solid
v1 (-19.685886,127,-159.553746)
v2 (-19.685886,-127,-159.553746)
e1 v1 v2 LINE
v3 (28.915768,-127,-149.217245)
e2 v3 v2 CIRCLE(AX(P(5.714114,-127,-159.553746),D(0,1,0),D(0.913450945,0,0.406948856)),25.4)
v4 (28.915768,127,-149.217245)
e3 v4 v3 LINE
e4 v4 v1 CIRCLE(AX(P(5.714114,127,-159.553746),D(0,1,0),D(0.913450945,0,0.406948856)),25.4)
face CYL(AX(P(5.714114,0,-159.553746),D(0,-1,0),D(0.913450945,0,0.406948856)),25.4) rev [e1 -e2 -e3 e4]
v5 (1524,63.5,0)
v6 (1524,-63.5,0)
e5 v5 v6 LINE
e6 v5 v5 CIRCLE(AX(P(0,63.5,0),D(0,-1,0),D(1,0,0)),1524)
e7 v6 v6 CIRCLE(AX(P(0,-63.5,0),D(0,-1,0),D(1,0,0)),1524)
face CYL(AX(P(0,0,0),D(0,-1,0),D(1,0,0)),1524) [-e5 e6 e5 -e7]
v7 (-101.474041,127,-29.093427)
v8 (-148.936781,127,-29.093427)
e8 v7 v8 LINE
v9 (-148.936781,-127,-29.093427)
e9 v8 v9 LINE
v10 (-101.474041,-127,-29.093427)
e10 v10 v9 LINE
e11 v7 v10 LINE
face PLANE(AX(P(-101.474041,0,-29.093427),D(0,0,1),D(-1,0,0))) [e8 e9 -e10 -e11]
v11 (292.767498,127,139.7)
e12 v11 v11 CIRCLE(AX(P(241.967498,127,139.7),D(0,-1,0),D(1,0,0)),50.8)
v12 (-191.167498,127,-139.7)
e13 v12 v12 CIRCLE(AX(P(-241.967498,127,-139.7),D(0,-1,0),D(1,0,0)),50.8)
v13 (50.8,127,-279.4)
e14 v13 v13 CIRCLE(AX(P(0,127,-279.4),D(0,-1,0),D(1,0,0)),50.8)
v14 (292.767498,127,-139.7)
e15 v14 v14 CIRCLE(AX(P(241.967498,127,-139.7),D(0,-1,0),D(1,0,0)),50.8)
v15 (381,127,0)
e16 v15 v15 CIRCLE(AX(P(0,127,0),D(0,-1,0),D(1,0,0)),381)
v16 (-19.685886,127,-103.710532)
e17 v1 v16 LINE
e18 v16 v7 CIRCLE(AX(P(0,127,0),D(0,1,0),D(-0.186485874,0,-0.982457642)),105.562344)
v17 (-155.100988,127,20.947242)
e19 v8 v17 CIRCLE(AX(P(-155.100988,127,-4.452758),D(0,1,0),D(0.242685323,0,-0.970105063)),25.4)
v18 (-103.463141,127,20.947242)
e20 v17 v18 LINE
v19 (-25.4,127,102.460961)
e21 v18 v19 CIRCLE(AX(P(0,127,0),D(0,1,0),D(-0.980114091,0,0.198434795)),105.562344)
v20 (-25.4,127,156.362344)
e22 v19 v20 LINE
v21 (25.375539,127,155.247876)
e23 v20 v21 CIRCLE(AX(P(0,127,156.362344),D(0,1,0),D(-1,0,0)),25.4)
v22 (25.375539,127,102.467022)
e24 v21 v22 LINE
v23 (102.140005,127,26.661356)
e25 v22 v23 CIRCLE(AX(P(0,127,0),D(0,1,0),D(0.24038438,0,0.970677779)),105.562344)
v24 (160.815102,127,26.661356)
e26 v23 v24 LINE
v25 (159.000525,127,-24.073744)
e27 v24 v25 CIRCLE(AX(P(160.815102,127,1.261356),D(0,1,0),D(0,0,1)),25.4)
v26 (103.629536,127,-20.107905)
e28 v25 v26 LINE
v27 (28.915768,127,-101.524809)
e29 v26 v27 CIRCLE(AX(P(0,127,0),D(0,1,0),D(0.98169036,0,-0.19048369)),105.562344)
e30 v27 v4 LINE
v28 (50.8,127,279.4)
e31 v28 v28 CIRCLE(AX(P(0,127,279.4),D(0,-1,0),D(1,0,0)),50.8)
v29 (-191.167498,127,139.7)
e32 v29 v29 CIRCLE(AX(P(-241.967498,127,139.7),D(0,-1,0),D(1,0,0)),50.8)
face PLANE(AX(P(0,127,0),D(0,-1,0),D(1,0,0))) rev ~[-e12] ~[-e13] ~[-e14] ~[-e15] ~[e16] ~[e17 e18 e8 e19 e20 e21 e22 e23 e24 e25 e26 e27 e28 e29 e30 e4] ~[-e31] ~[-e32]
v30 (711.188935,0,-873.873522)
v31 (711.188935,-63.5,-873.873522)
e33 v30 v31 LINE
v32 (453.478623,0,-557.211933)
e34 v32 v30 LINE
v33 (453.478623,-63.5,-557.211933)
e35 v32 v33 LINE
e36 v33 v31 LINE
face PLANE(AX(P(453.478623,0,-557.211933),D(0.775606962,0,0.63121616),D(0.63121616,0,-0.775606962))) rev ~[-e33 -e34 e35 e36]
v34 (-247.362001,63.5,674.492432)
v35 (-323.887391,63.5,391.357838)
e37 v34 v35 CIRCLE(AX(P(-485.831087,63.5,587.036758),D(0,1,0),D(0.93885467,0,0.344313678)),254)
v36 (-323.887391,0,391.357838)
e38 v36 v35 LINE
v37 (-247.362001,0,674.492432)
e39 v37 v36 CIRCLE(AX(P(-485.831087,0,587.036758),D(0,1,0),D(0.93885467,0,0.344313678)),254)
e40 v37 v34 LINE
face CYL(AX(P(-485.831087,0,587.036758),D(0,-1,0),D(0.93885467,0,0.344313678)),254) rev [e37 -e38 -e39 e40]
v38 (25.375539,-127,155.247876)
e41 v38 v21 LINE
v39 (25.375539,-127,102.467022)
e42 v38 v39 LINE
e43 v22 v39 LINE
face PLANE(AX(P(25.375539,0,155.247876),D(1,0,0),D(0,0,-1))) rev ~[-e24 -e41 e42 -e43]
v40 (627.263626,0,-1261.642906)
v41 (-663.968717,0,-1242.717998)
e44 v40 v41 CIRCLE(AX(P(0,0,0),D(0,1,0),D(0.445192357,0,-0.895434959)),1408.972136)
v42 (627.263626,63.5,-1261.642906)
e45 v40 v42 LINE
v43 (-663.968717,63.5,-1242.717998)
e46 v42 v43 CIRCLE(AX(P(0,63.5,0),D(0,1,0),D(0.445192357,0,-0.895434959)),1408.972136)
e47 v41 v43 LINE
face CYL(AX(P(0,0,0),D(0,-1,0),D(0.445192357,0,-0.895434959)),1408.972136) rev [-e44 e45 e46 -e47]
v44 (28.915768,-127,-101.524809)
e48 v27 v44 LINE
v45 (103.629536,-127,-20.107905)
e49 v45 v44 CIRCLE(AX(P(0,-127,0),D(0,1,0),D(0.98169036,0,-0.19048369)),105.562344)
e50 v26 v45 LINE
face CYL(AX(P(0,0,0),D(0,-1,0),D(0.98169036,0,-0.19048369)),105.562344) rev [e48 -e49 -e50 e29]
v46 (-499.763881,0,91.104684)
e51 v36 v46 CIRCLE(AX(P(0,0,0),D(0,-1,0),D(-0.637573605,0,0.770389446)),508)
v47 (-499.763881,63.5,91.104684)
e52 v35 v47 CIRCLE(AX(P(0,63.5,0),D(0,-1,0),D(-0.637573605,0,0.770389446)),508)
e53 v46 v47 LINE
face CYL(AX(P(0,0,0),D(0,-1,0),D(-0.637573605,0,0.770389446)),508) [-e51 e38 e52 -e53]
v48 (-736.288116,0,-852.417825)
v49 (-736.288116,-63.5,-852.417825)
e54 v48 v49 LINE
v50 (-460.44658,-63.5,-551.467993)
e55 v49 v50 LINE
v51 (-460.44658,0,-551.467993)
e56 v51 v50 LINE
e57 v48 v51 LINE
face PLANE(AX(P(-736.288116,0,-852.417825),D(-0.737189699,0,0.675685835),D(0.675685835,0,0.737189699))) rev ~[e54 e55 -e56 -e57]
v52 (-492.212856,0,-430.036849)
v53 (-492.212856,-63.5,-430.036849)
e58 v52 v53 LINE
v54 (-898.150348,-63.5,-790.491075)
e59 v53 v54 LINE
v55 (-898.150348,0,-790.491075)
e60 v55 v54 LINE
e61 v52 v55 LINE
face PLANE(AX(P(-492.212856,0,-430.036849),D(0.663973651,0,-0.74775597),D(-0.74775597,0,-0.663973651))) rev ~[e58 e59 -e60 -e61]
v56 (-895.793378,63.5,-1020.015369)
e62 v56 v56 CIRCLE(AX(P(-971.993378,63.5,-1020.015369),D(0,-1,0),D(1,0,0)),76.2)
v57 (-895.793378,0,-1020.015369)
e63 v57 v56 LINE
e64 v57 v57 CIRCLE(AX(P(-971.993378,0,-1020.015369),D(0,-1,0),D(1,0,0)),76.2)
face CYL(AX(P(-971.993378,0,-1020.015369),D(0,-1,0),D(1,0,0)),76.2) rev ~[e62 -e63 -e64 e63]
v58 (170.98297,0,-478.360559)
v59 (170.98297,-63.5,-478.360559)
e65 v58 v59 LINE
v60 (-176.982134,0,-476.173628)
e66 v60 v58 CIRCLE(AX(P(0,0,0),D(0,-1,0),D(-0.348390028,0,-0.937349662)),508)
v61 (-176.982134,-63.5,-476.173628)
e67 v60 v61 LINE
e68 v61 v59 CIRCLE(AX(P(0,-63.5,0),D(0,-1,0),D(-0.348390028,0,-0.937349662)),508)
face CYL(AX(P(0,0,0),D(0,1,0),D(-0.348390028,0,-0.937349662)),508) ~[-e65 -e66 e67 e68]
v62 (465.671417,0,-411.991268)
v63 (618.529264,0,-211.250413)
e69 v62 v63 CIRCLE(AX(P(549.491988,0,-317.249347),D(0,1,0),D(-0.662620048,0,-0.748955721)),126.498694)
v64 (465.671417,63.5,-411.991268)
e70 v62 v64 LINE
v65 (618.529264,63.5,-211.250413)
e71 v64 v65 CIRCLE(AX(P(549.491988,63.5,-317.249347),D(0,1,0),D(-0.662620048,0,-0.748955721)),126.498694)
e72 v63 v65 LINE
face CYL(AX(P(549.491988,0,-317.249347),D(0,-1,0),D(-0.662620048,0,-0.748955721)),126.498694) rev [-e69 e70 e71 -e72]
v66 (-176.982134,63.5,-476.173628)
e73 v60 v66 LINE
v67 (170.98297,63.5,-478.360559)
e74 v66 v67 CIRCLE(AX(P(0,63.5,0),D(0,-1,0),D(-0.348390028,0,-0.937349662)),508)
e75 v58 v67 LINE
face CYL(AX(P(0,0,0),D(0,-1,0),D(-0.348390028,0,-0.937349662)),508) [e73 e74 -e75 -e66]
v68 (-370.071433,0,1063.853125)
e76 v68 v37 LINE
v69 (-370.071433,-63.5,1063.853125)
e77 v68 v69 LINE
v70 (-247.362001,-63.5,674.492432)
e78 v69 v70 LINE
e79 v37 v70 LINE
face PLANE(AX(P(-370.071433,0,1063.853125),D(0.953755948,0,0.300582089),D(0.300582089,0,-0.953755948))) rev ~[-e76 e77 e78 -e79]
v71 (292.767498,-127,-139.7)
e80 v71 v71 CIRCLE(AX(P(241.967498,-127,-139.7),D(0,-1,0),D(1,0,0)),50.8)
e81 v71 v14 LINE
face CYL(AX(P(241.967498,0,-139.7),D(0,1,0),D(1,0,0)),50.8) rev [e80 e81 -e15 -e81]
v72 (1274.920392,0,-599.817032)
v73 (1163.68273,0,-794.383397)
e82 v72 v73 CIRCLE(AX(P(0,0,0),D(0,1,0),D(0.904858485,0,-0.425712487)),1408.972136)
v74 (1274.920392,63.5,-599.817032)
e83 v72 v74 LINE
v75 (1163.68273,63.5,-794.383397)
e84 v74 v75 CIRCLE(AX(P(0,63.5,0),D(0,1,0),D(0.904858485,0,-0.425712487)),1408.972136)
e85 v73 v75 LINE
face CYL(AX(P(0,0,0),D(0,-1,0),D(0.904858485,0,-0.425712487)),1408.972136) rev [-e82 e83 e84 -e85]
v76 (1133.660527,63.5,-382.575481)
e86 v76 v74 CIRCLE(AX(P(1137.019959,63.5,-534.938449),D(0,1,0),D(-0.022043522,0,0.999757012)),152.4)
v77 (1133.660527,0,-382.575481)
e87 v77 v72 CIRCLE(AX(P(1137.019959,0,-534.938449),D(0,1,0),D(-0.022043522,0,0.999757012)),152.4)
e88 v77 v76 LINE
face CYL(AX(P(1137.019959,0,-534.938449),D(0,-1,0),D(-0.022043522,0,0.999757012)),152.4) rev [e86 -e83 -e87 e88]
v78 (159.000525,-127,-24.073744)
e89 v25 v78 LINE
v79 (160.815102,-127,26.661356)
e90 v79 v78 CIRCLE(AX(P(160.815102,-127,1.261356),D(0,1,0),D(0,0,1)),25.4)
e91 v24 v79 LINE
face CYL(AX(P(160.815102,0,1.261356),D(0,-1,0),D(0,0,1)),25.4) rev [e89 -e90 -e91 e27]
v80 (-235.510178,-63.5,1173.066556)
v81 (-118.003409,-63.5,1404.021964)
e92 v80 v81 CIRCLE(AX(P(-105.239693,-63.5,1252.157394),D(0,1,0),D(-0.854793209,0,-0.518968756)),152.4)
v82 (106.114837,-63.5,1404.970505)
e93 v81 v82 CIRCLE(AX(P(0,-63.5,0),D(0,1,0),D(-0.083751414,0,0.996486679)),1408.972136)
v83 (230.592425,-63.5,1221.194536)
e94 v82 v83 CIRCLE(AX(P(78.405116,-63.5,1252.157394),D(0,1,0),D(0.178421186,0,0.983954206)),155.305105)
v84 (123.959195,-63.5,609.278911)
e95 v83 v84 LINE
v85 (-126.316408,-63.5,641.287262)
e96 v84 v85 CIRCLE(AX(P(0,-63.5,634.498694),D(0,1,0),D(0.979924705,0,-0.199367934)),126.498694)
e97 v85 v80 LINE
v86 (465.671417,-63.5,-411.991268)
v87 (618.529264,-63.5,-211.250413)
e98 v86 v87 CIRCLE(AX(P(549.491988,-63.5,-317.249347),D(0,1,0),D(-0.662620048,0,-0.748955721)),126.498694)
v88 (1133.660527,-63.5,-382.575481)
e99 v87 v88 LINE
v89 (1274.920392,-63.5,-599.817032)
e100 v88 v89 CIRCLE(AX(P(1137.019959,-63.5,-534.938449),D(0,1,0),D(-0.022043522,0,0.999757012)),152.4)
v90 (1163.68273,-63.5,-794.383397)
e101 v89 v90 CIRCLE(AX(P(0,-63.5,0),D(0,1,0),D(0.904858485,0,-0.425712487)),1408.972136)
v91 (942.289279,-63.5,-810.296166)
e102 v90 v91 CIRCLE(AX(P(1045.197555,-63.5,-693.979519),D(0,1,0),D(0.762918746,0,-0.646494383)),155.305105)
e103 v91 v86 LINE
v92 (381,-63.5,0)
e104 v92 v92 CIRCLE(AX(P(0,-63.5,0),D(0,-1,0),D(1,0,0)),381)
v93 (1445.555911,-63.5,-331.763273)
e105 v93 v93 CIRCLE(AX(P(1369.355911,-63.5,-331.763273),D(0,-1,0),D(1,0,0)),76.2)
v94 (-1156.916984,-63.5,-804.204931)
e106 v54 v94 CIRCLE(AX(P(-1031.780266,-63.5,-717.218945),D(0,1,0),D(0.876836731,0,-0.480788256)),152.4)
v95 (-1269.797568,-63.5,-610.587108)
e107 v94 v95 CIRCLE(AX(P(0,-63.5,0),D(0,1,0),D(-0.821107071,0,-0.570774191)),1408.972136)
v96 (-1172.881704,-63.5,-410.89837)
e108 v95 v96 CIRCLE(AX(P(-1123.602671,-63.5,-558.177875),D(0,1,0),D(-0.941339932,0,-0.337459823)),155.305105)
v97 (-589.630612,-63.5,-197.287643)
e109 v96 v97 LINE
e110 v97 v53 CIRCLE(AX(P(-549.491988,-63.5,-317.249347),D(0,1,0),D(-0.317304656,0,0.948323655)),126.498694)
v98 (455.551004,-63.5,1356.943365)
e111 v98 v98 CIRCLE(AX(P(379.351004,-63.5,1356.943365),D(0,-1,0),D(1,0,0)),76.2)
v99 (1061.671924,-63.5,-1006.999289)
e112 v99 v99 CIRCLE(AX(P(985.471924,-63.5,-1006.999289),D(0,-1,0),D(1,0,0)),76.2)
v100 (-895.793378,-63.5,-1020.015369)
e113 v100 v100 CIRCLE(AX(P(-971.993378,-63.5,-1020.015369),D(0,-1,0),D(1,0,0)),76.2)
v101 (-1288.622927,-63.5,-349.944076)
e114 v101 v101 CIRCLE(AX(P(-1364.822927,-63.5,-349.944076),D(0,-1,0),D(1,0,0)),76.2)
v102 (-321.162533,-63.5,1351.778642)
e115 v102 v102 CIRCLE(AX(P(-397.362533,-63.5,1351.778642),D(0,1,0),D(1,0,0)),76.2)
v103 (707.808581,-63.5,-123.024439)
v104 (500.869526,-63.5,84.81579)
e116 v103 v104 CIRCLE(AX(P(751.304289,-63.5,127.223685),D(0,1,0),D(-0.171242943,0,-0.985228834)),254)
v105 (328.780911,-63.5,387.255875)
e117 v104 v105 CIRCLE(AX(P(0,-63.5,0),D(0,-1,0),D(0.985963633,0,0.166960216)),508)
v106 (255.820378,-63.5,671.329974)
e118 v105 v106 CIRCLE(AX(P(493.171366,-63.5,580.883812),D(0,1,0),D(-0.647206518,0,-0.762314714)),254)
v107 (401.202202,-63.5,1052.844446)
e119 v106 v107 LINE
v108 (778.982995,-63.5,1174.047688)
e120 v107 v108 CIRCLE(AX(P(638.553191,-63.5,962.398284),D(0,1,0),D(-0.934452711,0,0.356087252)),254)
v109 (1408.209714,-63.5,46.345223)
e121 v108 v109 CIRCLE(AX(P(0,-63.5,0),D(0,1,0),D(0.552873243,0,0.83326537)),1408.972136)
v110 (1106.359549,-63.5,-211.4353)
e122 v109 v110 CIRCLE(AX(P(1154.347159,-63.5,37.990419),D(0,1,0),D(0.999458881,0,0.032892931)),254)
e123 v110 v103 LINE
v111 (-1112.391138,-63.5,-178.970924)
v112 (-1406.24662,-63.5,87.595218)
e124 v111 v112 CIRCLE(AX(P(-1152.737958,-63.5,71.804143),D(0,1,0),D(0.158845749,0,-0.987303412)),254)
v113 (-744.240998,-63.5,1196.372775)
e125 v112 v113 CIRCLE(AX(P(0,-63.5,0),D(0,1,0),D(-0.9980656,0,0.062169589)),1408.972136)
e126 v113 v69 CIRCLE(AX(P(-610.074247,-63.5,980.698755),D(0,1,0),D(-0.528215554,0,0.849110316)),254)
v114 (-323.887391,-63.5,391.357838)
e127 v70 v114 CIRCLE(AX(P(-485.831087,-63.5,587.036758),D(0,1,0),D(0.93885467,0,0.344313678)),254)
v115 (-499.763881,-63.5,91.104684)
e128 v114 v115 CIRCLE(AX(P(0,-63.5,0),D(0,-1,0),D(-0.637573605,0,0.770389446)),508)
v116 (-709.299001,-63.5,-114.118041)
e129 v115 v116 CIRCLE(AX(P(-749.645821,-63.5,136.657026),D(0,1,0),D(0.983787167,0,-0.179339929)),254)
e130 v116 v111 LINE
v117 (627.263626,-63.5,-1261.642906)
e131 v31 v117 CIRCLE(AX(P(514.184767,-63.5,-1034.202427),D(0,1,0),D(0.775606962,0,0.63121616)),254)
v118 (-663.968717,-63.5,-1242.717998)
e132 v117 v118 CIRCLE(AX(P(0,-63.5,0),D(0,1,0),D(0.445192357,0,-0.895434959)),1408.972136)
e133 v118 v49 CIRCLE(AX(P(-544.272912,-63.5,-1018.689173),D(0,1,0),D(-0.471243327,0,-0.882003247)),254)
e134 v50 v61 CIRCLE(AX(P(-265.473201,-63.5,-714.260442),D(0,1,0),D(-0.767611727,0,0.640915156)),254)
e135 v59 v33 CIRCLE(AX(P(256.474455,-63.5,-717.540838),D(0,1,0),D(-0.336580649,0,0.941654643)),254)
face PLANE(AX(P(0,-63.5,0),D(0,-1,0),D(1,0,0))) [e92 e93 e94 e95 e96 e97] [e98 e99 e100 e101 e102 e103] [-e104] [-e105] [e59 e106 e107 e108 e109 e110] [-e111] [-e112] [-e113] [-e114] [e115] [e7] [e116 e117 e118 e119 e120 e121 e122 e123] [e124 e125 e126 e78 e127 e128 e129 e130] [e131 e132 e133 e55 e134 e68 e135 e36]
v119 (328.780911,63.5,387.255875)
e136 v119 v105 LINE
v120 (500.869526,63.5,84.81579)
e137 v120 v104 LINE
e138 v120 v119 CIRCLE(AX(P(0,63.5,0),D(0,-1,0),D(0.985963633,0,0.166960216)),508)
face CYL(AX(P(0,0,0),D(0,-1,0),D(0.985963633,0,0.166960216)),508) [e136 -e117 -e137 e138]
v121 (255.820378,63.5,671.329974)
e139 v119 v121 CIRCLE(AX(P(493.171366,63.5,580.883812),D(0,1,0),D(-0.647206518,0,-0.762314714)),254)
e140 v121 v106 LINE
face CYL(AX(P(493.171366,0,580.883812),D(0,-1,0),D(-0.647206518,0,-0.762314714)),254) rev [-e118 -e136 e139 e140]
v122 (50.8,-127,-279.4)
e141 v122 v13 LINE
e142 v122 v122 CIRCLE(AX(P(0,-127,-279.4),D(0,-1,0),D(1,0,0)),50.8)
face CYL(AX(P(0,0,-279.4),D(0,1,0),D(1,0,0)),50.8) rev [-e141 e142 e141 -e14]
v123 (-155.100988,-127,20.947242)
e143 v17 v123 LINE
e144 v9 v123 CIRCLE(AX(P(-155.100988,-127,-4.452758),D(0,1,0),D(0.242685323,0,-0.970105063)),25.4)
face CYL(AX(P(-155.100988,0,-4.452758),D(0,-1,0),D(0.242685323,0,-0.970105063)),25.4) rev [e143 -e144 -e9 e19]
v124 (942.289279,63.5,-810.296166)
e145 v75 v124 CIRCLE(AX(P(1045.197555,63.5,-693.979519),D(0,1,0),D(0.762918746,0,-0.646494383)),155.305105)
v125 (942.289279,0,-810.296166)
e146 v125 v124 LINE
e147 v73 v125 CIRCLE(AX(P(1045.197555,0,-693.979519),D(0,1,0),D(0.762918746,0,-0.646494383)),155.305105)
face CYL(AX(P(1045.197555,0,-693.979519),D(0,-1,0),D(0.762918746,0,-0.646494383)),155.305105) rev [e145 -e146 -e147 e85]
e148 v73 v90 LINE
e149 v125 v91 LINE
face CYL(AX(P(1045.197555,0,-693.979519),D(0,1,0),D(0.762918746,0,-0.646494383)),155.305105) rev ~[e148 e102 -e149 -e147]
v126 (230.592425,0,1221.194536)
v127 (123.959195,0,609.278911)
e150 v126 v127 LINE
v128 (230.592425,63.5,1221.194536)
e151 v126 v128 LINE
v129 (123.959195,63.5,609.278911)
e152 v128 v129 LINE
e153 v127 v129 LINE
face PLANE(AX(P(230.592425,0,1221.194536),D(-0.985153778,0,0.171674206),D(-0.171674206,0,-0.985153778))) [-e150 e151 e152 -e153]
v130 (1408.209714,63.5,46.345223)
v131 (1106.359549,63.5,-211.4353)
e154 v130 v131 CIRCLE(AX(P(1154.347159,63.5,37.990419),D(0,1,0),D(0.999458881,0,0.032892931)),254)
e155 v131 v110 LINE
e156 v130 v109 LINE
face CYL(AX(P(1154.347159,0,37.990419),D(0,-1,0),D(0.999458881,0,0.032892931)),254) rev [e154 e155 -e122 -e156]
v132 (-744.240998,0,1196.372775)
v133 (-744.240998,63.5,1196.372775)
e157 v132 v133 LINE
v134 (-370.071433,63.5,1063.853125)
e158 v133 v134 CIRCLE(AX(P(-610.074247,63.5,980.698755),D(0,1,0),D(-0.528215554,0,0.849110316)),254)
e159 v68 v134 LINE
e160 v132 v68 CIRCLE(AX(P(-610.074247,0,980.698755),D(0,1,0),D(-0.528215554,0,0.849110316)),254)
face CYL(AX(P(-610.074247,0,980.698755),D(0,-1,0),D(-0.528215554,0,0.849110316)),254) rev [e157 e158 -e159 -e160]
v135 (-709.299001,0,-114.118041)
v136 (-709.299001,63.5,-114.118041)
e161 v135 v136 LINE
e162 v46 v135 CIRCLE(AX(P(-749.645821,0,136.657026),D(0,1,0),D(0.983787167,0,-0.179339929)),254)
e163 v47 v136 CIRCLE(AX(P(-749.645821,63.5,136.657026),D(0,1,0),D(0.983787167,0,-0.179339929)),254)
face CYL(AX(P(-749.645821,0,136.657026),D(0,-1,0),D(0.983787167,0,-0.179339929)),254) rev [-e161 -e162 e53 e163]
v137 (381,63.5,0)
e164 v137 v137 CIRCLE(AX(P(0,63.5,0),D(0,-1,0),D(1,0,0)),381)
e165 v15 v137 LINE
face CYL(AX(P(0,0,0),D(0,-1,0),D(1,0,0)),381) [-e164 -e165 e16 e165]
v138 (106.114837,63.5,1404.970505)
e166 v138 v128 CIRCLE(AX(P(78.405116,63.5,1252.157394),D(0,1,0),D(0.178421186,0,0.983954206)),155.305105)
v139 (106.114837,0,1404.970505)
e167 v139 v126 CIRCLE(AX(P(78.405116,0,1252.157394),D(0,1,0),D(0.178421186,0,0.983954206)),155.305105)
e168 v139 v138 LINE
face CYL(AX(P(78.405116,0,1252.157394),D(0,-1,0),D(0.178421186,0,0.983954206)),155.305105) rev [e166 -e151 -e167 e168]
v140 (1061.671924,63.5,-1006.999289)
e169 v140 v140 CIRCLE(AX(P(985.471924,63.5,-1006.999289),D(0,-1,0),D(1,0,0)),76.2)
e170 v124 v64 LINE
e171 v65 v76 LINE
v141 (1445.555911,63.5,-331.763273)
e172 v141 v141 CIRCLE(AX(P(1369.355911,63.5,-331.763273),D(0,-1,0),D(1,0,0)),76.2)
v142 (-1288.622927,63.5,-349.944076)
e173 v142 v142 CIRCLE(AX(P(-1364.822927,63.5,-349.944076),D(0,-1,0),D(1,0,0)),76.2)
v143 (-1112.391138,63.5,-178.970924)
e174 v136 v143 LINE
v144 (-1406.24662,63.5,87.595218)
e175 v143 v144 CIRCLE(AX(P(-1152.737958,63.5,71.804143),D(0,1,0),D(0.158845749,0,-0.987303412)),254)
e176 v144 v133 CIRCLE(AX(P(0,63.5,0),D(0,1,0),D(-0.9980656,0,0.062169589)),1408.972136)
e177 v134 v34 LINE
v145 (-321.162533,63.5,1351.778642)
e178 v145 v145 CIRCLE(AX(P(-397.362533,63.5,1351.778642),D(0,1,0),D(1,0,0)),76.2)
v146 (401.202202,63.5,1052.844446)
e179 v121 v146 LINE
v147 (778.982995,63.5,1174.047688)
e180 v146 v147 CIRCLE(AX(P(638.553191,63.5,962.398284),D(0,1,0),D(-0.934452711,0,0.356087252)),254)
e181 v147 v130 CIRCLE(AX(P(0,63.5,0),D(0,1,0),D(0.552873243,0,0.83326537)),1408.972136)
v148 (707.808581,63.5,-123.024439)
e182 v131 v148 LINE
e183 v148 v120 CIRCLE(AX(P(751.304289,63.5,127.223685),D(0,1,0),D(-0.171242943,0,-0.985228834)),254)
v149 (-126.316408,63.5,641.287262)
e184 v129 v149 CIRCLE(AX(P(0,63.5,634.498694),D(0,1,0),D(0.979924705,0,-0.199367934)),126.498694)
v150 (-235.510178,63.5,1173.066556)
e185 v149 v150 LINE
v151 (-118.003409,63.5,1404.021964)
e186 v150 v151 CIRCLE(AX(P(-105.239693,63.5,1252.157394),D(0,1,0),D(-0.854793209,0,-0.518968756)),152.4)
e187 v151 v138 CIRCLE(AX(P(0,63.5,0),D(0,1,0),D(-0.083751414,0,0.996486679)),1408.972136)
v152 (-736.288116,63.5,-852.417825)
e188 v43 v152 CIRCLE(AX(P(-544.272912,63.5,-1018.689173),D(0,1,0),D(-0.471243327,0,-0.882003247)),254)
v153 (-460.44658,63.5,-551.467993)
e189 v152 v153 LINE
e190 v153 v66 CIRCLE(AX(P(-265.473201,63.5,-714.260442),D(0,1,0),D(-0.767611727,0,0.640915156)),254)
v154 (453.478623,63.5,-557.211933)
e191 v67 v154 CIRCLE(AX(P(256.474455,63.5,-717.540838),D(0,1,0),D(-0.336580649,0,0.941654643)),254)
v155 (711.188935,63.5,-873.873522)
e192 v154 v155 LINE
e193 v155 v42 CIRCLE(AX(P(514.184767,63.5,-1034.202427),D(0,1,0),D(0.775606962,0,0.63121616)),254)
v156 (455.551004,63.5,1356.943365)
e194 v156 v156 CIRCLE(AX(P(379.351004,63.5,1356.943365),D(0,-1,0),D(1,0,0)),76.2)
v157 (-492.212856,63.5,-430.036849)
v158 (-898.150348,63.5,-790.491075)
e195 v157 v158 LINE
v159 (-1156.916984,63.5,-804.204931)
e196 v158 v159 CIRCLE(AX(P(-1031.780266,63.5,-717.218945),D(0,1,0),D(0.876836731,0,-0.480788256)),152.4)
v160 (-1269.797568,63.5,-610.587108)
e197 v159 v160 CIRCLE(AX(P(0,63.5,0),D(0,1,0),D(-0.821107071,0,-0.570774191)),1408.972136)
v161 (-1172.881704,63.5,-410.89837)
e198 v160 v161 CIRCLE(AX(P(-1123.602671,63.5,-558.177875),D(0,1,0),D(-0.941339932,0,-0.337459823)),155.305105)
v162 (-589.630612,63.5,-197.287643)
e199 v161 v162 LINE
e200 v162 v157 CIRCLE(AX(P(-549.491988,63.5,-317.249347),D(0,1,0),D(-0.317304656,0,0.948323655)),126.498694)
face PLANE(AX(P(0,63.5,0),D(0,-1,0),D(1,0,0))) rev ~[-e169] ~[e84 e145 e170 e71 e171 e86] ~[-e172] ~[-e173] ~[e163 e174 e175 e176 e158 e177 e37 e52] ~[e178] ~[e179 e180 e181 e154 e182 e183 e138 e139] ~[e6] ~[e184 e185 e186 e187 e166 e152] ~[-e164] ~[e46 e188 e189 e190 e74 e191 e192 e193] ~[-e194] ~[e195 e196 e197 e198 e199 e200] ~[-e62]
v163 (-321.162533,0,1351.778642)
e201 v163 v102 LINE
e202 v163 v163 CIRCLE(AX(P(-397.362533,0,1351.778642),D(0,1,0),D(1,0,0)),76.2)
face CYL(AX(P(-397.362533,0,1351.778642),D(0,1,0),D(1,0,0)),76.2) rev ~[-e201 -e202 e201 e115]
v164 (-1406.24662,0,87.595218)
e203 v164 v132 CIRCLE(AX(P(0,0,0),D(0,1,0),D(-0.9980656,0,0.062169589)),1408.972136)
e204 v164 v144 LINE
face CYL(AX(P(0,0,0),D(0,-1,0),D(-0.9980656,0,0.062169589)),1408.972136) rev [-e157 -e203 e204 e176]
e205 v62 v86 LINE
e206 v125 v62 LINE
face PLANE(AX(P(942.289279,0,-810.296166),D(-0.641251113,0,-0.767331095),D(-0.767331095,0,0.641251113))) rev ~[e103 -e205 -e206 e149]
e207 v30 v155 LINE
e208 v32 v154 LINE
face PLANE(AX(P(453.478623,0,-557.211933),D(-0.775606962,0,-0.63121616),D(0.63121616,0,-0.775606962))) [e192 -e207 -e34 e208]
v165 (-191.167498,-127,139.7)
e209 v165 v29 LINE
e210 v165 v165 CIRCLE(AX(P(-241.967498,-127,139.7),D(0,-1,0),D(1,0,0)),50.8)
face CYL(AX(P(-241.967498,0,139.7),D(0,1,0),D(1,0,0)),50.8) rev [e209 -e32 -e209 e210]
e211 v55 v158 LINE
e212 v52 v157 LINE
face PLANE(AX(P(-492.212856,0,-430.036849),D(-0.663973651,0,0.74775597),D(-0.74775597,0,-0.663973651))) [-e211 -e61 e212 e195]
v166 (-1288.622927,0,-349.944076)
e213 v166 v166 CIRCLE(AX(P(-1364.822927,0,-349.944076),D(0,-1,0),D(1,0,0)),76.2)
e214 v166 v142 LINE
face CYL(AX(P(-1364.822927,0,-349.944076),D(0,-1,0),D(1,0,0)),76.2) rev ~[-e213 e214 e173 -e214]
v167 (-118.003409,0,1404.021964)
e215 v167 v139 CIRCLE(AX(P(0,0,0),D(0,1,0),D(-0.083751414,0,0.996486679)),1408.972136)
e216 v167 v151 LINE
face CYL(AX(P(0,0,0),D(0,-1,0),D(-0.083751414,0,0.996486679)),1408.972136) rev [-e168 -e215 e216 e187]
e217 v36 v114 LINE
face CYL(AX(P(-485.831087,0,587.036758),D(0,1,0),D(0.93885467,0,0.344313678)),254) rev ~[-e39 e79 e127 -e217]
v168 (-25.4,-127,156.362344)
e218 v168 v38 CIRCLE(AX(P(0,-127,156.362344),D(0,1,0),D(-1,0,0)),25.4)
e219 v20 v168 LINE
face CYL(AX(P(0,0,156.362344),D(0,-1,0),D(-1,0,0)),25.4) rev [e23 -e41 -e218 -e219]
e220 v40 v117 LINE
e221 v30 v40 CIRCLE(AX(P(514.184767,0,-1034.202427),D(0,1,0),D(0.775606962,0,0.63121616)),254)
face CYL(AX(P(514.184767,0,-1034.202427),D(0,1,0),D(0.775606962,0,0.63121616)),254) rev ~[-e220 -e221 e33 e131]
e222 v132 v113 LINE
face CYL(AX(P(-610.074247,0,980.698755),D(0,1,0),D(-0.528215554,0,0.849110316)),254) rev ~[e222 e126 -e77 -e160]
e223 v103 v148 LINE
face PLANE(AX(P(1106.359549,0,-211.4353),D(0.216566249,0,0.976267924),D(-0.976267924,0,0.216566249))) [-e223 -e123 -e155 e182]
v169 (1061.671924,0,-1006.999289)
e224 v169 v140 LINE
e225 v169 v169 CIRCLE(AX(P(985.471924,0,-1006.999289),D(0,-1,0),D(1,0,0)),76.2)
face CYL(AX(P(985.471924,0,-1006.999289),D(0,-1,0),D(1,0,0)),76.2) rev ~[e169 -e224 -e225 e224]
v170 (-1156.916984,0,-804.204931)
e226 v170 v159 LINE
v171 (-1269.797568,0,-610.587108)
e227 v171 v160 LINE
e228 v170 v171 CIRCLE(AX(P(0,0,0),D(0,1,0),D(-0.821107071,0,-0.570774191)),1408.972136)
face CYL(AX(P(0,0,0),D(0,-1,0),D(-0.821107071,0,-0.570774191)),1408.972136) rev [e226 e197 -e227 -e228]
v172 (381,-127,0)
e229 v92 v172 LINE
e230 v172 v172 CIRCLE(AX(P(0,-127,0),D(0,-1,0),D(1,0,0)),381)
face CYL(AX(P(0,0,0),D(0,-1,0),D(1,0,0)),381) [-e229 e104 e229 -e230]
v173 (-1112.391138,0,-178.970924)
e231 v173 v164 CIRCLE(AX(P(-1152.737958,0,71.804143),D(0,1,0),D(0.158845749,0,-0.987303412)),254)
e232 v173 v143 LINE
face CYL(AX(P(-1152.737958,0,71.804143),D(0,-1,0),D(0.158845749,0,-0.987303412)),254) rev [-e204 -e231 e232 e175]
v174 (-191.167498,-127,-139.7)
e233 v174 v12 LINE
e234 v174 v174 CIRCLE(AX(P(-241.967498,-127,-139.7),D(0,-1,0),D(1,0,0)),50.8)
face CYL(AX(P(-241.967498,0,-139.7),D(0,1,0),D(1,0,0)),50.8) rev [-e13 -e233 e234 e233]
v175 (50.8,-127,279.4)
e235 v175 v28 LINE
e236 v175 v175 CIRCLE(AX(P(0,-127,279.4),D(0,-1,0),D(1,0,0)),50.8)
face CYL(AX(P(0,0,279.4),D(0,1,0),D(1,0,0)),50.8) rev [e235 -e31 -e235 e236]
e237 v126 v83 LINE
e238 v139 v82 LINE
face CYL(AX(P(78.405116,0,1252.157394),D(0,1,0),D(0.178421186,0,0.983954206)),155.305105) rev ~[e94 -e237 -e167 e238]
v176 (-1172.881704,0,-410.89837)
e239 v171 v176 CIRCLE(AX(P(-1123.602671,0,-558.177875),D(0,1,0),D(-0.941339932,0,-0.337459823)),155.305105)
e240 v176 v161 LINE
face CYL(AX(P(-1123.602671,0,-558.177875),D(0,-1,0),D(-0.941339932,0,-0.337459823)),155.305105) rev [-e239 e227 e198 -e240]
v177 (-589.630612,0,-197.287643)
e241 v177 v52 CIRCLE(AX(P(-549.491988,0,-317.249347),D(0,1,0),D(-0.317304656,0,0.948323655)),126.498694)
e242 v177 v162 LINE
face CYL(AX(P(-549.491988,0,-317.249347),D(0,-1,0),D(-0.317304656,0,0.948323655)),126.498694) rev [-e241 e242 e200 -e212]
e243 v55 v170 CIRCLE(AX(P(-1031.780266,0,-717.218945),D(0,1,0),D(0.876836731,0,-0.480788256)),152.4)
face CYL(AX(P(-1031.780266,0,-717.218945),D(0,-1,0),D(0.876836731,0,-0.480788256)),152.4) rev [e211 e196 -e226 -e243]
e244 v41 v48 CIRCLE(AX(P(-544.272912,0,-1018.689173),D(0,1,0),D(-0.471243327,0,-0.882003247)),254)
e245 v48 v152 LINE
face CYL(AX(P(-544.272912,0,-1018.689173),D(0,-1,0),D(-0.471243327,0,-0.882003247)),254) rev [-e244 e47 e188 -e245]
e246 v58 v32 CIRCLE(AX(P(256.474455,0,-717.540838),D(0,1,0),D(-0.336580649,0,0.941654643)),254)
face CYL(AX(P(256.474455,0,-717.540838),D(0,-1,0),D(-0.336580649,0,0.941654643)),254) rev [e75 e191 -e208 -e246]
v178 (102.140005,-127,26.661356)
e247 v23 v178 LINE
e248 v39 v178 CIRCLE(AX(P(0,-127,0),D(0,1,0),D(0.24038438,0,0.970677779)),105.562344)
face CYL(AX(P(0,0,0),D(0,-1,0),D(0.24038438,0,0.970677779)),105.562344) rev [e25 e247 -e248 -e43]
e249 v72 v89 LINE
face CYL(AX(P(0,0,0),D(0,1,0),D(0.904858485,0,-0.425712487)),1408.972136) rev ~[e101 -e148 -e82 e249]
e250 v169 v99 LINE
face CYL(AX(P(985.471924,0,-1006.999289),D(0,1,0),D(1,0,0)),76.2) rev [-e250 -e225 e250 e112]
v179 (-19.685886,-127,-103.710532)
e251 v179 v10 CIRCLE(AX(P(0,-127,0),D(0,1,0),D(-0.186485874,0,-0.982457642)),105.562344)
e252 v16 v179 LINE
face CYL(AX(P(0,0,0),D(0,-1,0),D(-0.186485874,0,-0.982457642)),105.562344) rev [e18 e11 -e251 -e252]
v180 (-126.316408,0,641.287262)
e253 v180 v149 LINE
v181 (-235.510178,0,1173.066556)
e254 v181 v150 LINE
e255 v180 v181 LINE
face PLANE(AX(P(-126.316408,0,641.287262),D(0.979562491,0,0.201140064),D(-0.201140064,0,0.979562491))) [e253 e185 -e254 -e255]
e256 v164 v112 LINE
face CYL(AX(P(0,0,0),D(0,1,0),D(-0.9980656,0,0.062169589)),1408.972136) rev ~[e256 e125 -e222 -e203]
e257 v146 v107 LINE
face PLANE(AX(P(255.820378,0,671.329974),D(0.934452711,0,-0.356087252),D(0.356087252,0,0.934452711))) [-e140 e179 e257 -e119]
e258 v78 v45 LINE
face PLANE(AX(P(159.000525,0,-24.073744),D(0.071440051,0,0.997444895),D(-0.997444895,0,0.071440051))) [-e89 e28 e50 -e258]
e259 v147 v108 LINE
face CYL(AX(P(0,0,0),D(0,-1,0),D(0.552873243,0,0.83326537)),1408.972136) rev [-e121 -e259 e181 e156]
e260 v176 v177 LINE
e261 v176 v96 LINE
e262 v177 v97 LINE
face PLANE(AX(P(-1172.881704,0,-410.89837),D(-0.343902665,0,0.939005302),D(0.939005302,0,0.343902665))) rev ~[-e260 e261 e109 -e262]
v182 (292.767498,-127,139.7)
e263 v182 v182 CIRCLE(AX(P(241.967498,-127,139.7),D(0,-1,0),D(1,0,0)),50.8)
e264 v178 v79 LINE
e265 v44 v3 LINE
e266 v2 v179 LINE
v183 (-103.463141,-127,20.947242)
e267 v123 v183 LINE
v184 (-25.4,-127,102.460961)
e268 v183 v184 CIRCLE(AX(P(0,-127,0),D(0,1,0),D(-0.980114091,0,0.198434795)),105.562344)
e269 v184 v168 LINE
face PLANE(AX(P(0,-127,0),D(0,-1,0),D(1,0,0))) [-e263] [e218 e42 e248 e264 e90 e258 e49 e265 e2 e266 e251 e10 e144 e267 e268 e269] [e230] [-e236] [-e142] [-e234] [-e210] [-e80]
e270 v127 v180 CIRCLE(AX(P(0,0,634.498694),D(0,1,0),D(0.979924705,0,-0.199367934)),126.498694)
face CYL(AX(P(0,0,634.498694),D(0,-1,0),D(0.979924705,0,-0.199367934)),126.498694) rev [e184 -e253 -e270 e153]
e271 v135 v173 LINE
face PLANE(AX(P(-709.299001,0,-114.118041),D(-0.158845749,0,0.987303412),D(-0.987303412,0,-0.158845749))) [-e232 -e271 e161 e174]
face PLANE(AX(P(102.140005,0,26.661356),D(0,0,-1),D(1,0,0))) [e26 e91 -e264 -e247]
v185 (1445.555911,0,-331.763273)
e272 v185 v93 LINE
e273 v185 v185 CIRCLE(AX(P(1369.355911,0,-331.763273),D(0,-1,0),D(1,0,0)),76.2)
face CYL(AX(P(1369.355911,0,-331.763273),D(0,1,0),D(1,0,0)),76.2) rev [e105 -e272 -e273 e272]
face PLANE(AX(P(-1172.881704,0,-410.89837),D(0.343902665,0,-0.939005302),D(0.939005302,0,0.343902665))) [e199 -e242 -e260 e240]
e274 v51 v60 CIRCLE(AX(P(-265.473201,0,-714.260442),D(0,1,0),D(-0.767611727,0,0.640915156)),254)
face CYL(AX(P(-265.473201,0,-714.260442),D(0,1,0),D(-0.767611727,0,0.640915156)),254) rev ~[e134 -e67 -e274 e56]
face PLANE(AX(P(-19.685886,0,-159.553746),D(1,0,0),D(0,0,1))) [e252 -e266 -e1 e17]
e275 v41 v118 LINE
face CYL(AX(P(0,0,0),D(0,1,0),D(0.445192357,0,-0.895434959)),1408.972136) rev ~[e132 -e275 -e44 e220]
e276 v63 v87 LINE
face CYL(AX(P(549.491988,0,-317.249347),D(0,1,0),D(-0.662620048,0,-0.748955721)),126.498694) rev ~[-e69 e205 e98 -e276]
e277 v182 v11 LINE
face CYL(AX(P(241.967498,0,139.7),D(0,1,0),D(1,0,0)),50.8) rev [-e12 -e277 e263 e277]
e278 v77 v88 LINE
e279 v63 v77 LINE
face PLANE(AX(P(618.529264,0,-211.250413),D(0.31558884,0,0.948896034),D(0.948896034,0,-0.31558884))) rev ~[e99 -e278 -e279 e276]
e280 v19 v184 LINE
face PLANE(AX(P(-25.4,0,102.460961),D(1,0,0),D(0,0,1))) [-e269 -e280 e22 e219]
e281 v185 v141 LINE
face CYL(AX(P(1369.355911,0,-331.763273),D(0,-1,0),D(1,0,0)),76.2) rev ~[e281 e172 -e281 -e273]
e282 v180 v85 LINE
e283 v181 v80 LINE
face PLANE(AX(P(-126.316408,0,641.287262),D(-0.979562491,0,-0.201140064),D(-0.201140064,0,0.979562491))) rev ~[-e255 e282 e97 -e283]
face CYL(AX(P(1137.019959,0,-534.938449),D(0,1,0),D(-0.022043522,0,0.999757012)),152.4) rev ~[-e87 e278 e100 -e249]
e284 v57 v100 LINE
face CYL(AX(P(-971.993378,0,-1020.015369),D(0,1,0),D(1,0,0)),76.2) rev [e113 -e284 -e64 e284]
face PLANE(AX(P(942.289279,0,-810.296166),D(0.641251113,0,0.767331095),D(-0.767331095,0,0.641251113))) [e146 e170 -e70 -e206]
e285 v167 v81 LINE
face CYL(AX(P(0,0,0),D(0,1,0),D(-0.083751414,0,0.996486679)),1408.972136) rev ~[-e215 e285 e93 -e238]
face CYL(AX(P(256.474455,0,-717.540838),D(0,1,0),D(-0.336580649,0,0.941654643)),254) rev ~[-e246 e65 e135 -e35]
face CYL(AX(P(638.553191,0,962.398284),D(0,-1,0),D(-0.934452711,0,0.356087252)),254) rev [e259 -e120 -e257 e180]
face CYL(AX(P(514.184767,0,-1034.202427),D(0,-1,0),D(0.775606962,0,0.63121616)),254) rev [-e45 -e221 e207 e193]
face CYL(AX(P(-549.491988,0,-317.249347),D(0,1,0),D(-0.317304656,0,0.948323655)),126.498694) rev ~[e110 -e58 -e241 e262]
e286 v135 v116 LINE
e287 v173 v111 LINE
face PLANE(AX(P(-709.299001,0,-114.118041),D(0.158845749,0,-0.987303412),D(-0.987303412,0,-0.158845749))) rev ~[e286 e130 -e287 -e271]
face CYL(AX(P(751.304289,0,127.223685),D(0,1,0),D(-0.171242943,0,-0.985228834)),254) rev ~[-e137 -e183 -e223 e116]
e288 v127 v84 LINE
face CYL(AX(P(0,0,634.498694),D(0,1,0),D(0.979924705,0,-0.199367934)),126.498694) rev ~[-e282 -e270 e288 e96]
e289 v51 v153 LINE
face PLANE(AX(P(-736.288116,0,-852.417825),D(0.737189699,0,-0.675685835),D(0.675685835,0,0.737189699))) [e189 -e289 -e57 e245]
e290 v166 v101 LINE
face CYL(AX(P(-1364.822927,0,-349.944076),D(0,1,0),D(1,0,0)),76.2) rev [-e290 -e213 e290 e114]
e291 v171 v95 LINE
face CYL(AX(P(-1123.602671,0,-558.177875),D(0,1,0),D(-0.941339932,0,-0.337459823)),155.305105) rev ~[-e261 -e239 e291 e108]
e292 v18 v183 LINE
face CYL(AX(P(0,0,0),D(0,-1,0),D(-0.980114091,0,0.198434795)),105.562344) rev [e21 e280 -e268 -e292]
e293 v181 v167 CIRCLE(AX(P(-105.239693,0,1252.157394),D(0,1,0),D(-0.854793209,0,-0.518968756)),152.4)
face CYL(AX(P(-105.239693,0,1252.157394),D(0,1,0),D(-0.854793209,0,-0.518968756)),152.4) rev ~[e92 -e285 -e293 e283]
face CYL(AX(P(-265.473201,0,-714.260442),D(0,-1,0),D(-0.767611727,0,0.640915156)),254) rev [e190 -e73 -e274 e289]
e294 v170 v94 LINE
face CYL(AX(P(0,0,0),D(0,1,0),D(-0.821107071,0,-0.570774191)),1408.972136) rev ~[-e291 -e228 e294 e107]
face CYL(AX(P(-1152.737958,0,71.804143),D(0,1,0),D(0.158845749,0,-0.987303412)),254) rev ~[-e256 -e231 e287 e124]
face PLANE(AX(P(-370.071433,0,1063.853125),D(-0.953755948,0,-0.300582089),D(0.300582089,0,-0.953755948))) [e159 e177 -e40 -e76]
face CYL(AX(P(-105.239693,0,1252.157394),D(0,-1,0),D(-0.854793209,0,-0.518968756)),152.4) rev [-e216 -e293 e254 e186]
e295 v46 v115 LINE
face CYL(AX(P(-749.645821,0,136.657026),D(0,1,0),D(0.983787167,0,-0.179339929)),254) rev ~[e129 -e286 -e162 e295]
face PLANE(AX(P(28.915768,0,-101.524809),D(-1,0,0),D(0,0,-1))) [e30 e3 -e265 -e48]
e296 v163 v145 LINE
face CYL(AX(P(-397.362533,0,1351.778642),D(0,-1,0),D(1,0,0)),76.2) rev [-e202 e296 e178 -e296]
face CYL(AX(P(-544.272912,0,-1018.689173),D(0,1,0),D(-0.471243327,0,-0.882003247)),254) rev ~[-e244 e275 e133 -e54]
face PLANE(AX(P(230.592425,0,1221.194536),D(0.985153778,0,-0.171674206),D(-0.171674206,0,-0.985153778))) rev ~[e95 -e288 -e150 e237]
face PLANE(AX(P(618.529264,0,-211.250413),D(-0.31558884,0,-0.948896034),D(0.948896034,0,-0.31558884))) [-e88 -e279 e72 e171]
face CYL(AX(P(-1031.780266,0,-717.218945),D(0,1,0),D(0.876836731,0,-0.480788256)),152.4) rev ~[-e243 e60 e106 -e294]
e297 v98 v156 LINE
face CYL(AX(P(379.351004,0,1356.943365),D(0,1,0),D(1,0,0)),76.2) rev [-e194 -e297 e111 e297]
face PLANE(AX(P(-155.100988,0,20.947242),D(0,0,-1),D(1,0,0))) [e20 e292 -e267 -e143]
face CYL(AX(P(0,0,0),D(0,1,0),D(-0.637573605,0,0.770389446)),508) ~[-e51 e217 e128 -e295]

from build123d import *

# Parameters (mm, degrees)
F0_R     = 1524
F0_R_2   = 76.2
F0_R_3   = 381
F1_DEPTH = 63.5
F0_R_4   = 50.8
F2_DEPTH = 127


with BuildPart() as f1:
    # F0 (on Front) → F1 (new body, symmetric)
    with BuildSketch(Plane.XZ):
        Circle(F0_R)
        with Locations((-971.9933776367, -1020.0153691128)):
            Circle(F0_R_2, mode=Mode.SUBTRACT)
        with BuildLine():
            ThreePointArc((627.2636257807, -1261.6429063599), (-20.6483404541, -1408.8208280091), (-663.9687166949, -1242.7179980375))
            ThreePointArc((-663.9687166949, -1242.7179980375), (-794.0217747642, -1064.9655754631), (-736.2881159049, -852.4178248775))
            Line((-736.2881159049, -852.4178248775), (-460.4465800194, -551.4679926781))
            ThreePointArc((-460.4465800194, -551.4679926781), (-330.6800338441, -468.773031142), (-176.9821342696, -476.173628154))
            ThreePointArc((-176.9821342696, -476.173628154), (-3.192672788, -507.9899672636), (170.9829698774, -478.3605585872))
            ThreePointArc((170.9829698774, -478.3605585872), (324.7617483003, -472.8924257695), (453.4786230561, -557.2119331378))
            Line((453.4786230561, -557.2119331378), (711.1889353954, -873.8735220798))
            ThreePointArc((711.1889353954, -873.8735220798), (762.4369468714, -1087.9318904933), (627.2636257807, -1261.6429063599))
        make_face(mode=Mode.SUBTRACT)
        with BuildLine():
            ThreePointArc((-1156.9169838812, -804.2049314715), (-1217.2131465857, -709.6440200373), (-1269.7975677819, -610.5871078322))
            ThreePointArc((-1269.7975677819, -610.5871078322), (-1263.3217187599, -490.3673792442), (-1172.8817038419, -410.898369788))
            Line((-1172.8817038419, -410.898369788), (-589.6306123269, -197.2876431197))
            ThreePointArc((-589.6306123269, -197.2876431197), (-432.8022389089, -268.4085636592), (-492.2128557254, -430.036849107))
            Line((-492.2128557254, -430.036849107), (-898.1503483934, -790.4910748845))
            ThreePointArc((-898.1503483934, -790.4910748845), (-1023.7148413791, -869.4053728853), (-1156.9169838812, -804.2049314715))
        make_face(mode=Mode.SUBTRACT)
        with Locations((-1364.8229272882, -349.9440763096)):
            Circle(F0_R_2, mode=Mode.SUBTRACT)
        with Locations((985.4719236321, -1006.9992885442)):
            Circle(F0_R_2, mode=Mode.SUBTRACT)
        with BuildLine():
            ThreePointArc((1274.9203924436, -599.817032375), (1223.1763222889, -699.315496745), (1163.6827304969, -794.3833974468))
            ThreePointArc((1163.6827304969, -794.3833974468), (1056.3314669926, -848.8850119765), (942.289278531, -810.2961662671))
            Line((942.289278531, -810.2961662671), (465.6714169579, -411.9912675642))
            ThreePointArc((465.6714169579, -411.9912675642), (448.8497541766, -240.6134518803), (618.5292637528, -211.250412574))
            Line((618.5292637528, -211.250412574), (1133.6605265116, -382.5754806843))
            ThreePointArc((1133.6605265116, -382.5754806843), (1264.7845597949, -451.8603724228), (1274.9203924436, -599.817032375))
        make_face(mode=Mode.SUBTRACT)
        with Locations((1369.3559107206, -331.7632727872)):
            Circle(F0_R_2, mode=Mode.SUBTRACT)
        with BuildLine():
            ThreePointArc((-247.3620010235, 674.4924317215), (-240.629336656, 520.7638254043), (-323.8873914588, 391.3578383705))
            ThreePointArc((-323.8873914588, 391.3578383705), (-438.3358801239, 256.7599193722), (-499.7638808438, 91.1046837653))
            ThreePointArc((-499.7638808438, 91.1046837653), (-571.9177281238, -44.8057113207), (-709.2990009172, -114.1180410708))
            Line((-709.2990009172, -114.1180410708), (-1112.3911375134, -178.9709239029))
            ThreePointArc((-1112.3911375134, -178.9709239029), (-1323.3951281902, -116.3238195278), (-1406.2466203024, 87.595218384))
            ThreePointArc((-1406.2466203024, 87.595218384), (-1209.7504562095, 722.2924013838), (-744.2409976932, 1196.3727749947))
            ThreePointArc((-744.2409976932, 1196.3727749947), (-525.2763551248, 1220.1258158353), (-370.0714330301, 1063.853125317))
            Line((-370.0714330301, 1063.853125317), (-247.3620010235, 674.4924317215))
        make_face(mode=Mode.SUBTRACT)
        with BuildLine():
            ThreePointArc((-235.5101781182, 1173.0665555688), (-241.0697184158, 1321.2657453081), (-118.0034085625, 1404.0219638465))
            ThreePointArc((-118.0034085625, 1404.0219638465), (-5.9631757032, 1408.9595167823), (106.114837285, 1404.9705052789))
            ThreePointArc((106.114837285, 1404.9705052789), (206.9902517672, 1339.2523912208), (230.5924253109, 1221.1945360551))
            Line((230.5924253109, 1221.1945360551), (123.959195369, 609.2789106839))
            ThreePointArc((123.959195369, 609.2789106839), (-16.0475152677, 509.0220155395), (-126.3164080274, 641.287261681))
            Line((-126.3164080274, 641.287261681), (-235.5101781182, 1173.0665555688))
        make_face(mode=Mode.SUBTRACT)
        with BuildLine():
            ThreePointArc((-469.8615475431, 1328.3194666706), (-409.2371930413, 1427.0477089255), (-321.1625330839, 1351.7786419))
            ThreePointArc((-321.1625330839, 1351.7786419), (-385.4878731265, 1276.5095748744), (-469.8615475431, 1328.3194666706))
        make_face(mode=Mode.SUBTRACT)
        Circle(F0_R_3, mode=Mode.SUBTRACT)
        with BuildLine():
            ThreePointArc((778.9829945218, 1174.0476879759), (1230.3987966636, 686.5284266253), (1408.2097143881, 46.3452230428))
            ThreePointArc((1408.2097143881, 46.3452230428), (1319.298129889, -155.1602403722), (1106.359548935, -211.4353004395))
            Line((1106.359548935, -211.4353004395), (707.808581043, -123.0244390435))
            ThreePointArc((707.808581043, -123.0244390435), (571.3093705001, -51.9907942623), (500.8695257284, 84.8157897835))
            ThreePointArc((500.8695257284, 84.8157897835), (441.5285529119, 251.2300478914), (328.7809109663, 387.255874822))
            ThreePointArc((328.7809109663, 387.255874822), (247.1559798235, 517.6981370902), (255.8203778612, 671.3299742086))
            Line((255.8203778612, 671.3299742086), (401.202202118, 1052.8444459828))
            ThreePointArc((401.202202118, 1052.8444459828), (560.9581813188, 1204.2557100211), (778.9829945218, 1174.0476879759))
        make_face(mode=Mode.SUBTRACT)
        with Locations((379.3510036561, 1356.9433648539)):
            Circle(F0_R_2, mode=Mode.SUBTRACT)
    extrude(amount=F1_DEPTH, both=True)

    # F0 (on Front) → F2 (join, symmetric)
    with BuildSketch(Plane.XZ):
        Circle(F0_R_3)
        with Locations((-241.9674978174, -139.7)):
            Circle(F0_R_4, mode=Mode.SUBTRACT)
        with Locations((0, -279.4)):
            Circle(F0_R_4, mode=Mode.SUBTRACT)
        with BuildLine():
            ThreePointArc((-19.6858859664, -103.7105315785), (-71.1467502235, -77.9842830269), (-101.4740410098, -29.0934265381))
            Line((-101.4740410098, -29.0934265381), (-148.9367806707, -29.0934265381))
            ThreePointArc((-148.9367806707, -29.0934265381), (-180.3104402953, -7.5581578467), (-155.1009878748, 20.9472420718))
            Line((-155.1009878748, 20.9472420718), (-103.4631408579, 20.9472420718))
            ThreePointArc((-103.4631408579, 20.9472420718), (-76.2400737729, 73.0127359965), (-25.4, 102.4609606952))
            Line((-25.4, 102.4609606952), (-25.4, 156.3623439802))
            ThreePointArc((-25.4, 156.3623439802), (0.5573682923, 181.756227901), (25.3755386289, 155.2478758136))
            Line((25.3755386289, 155.2478758136), (25.3755386289, 102.4670215527))
            ThreePointArc((25.3755386289, 102.4670215527), (74.1732982628, 75.111452465), (102.1400046858, 26.6613561054))
            Line((102.1400046858, 26.6613561054), (160.8151019084, 26.6613561054))
            ThreePointArc((160.8151019084, 26.6613561054), (186.198871808, 0.3534873476), (159.0005246134, -24.0737442346))
            Line((159.0005246134, -24.0737442346), (103.6295355125, -20.1079048152))
            ThreePointArc((103.6295355125, -20.1079048152), (77.7768760071, -71.3734266038), (28.9157680339, -101.5248089168))
            Line((28.9157680339, -101.5248089168), (28.9157680339, -149.2172448646))
            ThreePointArc((28.9157680339, -149.2172448646), (10.9979567826, -184.3980812902), (-19.6858859664, -159.553745803))
            Line((-19.6858859664, -159.553745803), (-19.6858859664, -103.7105315785))
        make_face(mode=Mode.SUBTRACT)
        with Locations((241.9674978174, -139.7)):
            Circle(F0_R_4, mode=Mode.SUBTRACT)
        with Locations((-241.9674978174, 139.7)):
            Circle(F0_R_4, mode=Mode.SUBTRACT)
        with Locations((241.9674978174, 139.7)):
            Circle(F0_R_4, mode=Mode.SUBTRACT)
        with Locations((0, 279.4)):
            Circle(F0_R_4, mode=Mode.SUBTRACT)
    extrude(amount=F2_DEPTH, both=True)


solid = f1.part
